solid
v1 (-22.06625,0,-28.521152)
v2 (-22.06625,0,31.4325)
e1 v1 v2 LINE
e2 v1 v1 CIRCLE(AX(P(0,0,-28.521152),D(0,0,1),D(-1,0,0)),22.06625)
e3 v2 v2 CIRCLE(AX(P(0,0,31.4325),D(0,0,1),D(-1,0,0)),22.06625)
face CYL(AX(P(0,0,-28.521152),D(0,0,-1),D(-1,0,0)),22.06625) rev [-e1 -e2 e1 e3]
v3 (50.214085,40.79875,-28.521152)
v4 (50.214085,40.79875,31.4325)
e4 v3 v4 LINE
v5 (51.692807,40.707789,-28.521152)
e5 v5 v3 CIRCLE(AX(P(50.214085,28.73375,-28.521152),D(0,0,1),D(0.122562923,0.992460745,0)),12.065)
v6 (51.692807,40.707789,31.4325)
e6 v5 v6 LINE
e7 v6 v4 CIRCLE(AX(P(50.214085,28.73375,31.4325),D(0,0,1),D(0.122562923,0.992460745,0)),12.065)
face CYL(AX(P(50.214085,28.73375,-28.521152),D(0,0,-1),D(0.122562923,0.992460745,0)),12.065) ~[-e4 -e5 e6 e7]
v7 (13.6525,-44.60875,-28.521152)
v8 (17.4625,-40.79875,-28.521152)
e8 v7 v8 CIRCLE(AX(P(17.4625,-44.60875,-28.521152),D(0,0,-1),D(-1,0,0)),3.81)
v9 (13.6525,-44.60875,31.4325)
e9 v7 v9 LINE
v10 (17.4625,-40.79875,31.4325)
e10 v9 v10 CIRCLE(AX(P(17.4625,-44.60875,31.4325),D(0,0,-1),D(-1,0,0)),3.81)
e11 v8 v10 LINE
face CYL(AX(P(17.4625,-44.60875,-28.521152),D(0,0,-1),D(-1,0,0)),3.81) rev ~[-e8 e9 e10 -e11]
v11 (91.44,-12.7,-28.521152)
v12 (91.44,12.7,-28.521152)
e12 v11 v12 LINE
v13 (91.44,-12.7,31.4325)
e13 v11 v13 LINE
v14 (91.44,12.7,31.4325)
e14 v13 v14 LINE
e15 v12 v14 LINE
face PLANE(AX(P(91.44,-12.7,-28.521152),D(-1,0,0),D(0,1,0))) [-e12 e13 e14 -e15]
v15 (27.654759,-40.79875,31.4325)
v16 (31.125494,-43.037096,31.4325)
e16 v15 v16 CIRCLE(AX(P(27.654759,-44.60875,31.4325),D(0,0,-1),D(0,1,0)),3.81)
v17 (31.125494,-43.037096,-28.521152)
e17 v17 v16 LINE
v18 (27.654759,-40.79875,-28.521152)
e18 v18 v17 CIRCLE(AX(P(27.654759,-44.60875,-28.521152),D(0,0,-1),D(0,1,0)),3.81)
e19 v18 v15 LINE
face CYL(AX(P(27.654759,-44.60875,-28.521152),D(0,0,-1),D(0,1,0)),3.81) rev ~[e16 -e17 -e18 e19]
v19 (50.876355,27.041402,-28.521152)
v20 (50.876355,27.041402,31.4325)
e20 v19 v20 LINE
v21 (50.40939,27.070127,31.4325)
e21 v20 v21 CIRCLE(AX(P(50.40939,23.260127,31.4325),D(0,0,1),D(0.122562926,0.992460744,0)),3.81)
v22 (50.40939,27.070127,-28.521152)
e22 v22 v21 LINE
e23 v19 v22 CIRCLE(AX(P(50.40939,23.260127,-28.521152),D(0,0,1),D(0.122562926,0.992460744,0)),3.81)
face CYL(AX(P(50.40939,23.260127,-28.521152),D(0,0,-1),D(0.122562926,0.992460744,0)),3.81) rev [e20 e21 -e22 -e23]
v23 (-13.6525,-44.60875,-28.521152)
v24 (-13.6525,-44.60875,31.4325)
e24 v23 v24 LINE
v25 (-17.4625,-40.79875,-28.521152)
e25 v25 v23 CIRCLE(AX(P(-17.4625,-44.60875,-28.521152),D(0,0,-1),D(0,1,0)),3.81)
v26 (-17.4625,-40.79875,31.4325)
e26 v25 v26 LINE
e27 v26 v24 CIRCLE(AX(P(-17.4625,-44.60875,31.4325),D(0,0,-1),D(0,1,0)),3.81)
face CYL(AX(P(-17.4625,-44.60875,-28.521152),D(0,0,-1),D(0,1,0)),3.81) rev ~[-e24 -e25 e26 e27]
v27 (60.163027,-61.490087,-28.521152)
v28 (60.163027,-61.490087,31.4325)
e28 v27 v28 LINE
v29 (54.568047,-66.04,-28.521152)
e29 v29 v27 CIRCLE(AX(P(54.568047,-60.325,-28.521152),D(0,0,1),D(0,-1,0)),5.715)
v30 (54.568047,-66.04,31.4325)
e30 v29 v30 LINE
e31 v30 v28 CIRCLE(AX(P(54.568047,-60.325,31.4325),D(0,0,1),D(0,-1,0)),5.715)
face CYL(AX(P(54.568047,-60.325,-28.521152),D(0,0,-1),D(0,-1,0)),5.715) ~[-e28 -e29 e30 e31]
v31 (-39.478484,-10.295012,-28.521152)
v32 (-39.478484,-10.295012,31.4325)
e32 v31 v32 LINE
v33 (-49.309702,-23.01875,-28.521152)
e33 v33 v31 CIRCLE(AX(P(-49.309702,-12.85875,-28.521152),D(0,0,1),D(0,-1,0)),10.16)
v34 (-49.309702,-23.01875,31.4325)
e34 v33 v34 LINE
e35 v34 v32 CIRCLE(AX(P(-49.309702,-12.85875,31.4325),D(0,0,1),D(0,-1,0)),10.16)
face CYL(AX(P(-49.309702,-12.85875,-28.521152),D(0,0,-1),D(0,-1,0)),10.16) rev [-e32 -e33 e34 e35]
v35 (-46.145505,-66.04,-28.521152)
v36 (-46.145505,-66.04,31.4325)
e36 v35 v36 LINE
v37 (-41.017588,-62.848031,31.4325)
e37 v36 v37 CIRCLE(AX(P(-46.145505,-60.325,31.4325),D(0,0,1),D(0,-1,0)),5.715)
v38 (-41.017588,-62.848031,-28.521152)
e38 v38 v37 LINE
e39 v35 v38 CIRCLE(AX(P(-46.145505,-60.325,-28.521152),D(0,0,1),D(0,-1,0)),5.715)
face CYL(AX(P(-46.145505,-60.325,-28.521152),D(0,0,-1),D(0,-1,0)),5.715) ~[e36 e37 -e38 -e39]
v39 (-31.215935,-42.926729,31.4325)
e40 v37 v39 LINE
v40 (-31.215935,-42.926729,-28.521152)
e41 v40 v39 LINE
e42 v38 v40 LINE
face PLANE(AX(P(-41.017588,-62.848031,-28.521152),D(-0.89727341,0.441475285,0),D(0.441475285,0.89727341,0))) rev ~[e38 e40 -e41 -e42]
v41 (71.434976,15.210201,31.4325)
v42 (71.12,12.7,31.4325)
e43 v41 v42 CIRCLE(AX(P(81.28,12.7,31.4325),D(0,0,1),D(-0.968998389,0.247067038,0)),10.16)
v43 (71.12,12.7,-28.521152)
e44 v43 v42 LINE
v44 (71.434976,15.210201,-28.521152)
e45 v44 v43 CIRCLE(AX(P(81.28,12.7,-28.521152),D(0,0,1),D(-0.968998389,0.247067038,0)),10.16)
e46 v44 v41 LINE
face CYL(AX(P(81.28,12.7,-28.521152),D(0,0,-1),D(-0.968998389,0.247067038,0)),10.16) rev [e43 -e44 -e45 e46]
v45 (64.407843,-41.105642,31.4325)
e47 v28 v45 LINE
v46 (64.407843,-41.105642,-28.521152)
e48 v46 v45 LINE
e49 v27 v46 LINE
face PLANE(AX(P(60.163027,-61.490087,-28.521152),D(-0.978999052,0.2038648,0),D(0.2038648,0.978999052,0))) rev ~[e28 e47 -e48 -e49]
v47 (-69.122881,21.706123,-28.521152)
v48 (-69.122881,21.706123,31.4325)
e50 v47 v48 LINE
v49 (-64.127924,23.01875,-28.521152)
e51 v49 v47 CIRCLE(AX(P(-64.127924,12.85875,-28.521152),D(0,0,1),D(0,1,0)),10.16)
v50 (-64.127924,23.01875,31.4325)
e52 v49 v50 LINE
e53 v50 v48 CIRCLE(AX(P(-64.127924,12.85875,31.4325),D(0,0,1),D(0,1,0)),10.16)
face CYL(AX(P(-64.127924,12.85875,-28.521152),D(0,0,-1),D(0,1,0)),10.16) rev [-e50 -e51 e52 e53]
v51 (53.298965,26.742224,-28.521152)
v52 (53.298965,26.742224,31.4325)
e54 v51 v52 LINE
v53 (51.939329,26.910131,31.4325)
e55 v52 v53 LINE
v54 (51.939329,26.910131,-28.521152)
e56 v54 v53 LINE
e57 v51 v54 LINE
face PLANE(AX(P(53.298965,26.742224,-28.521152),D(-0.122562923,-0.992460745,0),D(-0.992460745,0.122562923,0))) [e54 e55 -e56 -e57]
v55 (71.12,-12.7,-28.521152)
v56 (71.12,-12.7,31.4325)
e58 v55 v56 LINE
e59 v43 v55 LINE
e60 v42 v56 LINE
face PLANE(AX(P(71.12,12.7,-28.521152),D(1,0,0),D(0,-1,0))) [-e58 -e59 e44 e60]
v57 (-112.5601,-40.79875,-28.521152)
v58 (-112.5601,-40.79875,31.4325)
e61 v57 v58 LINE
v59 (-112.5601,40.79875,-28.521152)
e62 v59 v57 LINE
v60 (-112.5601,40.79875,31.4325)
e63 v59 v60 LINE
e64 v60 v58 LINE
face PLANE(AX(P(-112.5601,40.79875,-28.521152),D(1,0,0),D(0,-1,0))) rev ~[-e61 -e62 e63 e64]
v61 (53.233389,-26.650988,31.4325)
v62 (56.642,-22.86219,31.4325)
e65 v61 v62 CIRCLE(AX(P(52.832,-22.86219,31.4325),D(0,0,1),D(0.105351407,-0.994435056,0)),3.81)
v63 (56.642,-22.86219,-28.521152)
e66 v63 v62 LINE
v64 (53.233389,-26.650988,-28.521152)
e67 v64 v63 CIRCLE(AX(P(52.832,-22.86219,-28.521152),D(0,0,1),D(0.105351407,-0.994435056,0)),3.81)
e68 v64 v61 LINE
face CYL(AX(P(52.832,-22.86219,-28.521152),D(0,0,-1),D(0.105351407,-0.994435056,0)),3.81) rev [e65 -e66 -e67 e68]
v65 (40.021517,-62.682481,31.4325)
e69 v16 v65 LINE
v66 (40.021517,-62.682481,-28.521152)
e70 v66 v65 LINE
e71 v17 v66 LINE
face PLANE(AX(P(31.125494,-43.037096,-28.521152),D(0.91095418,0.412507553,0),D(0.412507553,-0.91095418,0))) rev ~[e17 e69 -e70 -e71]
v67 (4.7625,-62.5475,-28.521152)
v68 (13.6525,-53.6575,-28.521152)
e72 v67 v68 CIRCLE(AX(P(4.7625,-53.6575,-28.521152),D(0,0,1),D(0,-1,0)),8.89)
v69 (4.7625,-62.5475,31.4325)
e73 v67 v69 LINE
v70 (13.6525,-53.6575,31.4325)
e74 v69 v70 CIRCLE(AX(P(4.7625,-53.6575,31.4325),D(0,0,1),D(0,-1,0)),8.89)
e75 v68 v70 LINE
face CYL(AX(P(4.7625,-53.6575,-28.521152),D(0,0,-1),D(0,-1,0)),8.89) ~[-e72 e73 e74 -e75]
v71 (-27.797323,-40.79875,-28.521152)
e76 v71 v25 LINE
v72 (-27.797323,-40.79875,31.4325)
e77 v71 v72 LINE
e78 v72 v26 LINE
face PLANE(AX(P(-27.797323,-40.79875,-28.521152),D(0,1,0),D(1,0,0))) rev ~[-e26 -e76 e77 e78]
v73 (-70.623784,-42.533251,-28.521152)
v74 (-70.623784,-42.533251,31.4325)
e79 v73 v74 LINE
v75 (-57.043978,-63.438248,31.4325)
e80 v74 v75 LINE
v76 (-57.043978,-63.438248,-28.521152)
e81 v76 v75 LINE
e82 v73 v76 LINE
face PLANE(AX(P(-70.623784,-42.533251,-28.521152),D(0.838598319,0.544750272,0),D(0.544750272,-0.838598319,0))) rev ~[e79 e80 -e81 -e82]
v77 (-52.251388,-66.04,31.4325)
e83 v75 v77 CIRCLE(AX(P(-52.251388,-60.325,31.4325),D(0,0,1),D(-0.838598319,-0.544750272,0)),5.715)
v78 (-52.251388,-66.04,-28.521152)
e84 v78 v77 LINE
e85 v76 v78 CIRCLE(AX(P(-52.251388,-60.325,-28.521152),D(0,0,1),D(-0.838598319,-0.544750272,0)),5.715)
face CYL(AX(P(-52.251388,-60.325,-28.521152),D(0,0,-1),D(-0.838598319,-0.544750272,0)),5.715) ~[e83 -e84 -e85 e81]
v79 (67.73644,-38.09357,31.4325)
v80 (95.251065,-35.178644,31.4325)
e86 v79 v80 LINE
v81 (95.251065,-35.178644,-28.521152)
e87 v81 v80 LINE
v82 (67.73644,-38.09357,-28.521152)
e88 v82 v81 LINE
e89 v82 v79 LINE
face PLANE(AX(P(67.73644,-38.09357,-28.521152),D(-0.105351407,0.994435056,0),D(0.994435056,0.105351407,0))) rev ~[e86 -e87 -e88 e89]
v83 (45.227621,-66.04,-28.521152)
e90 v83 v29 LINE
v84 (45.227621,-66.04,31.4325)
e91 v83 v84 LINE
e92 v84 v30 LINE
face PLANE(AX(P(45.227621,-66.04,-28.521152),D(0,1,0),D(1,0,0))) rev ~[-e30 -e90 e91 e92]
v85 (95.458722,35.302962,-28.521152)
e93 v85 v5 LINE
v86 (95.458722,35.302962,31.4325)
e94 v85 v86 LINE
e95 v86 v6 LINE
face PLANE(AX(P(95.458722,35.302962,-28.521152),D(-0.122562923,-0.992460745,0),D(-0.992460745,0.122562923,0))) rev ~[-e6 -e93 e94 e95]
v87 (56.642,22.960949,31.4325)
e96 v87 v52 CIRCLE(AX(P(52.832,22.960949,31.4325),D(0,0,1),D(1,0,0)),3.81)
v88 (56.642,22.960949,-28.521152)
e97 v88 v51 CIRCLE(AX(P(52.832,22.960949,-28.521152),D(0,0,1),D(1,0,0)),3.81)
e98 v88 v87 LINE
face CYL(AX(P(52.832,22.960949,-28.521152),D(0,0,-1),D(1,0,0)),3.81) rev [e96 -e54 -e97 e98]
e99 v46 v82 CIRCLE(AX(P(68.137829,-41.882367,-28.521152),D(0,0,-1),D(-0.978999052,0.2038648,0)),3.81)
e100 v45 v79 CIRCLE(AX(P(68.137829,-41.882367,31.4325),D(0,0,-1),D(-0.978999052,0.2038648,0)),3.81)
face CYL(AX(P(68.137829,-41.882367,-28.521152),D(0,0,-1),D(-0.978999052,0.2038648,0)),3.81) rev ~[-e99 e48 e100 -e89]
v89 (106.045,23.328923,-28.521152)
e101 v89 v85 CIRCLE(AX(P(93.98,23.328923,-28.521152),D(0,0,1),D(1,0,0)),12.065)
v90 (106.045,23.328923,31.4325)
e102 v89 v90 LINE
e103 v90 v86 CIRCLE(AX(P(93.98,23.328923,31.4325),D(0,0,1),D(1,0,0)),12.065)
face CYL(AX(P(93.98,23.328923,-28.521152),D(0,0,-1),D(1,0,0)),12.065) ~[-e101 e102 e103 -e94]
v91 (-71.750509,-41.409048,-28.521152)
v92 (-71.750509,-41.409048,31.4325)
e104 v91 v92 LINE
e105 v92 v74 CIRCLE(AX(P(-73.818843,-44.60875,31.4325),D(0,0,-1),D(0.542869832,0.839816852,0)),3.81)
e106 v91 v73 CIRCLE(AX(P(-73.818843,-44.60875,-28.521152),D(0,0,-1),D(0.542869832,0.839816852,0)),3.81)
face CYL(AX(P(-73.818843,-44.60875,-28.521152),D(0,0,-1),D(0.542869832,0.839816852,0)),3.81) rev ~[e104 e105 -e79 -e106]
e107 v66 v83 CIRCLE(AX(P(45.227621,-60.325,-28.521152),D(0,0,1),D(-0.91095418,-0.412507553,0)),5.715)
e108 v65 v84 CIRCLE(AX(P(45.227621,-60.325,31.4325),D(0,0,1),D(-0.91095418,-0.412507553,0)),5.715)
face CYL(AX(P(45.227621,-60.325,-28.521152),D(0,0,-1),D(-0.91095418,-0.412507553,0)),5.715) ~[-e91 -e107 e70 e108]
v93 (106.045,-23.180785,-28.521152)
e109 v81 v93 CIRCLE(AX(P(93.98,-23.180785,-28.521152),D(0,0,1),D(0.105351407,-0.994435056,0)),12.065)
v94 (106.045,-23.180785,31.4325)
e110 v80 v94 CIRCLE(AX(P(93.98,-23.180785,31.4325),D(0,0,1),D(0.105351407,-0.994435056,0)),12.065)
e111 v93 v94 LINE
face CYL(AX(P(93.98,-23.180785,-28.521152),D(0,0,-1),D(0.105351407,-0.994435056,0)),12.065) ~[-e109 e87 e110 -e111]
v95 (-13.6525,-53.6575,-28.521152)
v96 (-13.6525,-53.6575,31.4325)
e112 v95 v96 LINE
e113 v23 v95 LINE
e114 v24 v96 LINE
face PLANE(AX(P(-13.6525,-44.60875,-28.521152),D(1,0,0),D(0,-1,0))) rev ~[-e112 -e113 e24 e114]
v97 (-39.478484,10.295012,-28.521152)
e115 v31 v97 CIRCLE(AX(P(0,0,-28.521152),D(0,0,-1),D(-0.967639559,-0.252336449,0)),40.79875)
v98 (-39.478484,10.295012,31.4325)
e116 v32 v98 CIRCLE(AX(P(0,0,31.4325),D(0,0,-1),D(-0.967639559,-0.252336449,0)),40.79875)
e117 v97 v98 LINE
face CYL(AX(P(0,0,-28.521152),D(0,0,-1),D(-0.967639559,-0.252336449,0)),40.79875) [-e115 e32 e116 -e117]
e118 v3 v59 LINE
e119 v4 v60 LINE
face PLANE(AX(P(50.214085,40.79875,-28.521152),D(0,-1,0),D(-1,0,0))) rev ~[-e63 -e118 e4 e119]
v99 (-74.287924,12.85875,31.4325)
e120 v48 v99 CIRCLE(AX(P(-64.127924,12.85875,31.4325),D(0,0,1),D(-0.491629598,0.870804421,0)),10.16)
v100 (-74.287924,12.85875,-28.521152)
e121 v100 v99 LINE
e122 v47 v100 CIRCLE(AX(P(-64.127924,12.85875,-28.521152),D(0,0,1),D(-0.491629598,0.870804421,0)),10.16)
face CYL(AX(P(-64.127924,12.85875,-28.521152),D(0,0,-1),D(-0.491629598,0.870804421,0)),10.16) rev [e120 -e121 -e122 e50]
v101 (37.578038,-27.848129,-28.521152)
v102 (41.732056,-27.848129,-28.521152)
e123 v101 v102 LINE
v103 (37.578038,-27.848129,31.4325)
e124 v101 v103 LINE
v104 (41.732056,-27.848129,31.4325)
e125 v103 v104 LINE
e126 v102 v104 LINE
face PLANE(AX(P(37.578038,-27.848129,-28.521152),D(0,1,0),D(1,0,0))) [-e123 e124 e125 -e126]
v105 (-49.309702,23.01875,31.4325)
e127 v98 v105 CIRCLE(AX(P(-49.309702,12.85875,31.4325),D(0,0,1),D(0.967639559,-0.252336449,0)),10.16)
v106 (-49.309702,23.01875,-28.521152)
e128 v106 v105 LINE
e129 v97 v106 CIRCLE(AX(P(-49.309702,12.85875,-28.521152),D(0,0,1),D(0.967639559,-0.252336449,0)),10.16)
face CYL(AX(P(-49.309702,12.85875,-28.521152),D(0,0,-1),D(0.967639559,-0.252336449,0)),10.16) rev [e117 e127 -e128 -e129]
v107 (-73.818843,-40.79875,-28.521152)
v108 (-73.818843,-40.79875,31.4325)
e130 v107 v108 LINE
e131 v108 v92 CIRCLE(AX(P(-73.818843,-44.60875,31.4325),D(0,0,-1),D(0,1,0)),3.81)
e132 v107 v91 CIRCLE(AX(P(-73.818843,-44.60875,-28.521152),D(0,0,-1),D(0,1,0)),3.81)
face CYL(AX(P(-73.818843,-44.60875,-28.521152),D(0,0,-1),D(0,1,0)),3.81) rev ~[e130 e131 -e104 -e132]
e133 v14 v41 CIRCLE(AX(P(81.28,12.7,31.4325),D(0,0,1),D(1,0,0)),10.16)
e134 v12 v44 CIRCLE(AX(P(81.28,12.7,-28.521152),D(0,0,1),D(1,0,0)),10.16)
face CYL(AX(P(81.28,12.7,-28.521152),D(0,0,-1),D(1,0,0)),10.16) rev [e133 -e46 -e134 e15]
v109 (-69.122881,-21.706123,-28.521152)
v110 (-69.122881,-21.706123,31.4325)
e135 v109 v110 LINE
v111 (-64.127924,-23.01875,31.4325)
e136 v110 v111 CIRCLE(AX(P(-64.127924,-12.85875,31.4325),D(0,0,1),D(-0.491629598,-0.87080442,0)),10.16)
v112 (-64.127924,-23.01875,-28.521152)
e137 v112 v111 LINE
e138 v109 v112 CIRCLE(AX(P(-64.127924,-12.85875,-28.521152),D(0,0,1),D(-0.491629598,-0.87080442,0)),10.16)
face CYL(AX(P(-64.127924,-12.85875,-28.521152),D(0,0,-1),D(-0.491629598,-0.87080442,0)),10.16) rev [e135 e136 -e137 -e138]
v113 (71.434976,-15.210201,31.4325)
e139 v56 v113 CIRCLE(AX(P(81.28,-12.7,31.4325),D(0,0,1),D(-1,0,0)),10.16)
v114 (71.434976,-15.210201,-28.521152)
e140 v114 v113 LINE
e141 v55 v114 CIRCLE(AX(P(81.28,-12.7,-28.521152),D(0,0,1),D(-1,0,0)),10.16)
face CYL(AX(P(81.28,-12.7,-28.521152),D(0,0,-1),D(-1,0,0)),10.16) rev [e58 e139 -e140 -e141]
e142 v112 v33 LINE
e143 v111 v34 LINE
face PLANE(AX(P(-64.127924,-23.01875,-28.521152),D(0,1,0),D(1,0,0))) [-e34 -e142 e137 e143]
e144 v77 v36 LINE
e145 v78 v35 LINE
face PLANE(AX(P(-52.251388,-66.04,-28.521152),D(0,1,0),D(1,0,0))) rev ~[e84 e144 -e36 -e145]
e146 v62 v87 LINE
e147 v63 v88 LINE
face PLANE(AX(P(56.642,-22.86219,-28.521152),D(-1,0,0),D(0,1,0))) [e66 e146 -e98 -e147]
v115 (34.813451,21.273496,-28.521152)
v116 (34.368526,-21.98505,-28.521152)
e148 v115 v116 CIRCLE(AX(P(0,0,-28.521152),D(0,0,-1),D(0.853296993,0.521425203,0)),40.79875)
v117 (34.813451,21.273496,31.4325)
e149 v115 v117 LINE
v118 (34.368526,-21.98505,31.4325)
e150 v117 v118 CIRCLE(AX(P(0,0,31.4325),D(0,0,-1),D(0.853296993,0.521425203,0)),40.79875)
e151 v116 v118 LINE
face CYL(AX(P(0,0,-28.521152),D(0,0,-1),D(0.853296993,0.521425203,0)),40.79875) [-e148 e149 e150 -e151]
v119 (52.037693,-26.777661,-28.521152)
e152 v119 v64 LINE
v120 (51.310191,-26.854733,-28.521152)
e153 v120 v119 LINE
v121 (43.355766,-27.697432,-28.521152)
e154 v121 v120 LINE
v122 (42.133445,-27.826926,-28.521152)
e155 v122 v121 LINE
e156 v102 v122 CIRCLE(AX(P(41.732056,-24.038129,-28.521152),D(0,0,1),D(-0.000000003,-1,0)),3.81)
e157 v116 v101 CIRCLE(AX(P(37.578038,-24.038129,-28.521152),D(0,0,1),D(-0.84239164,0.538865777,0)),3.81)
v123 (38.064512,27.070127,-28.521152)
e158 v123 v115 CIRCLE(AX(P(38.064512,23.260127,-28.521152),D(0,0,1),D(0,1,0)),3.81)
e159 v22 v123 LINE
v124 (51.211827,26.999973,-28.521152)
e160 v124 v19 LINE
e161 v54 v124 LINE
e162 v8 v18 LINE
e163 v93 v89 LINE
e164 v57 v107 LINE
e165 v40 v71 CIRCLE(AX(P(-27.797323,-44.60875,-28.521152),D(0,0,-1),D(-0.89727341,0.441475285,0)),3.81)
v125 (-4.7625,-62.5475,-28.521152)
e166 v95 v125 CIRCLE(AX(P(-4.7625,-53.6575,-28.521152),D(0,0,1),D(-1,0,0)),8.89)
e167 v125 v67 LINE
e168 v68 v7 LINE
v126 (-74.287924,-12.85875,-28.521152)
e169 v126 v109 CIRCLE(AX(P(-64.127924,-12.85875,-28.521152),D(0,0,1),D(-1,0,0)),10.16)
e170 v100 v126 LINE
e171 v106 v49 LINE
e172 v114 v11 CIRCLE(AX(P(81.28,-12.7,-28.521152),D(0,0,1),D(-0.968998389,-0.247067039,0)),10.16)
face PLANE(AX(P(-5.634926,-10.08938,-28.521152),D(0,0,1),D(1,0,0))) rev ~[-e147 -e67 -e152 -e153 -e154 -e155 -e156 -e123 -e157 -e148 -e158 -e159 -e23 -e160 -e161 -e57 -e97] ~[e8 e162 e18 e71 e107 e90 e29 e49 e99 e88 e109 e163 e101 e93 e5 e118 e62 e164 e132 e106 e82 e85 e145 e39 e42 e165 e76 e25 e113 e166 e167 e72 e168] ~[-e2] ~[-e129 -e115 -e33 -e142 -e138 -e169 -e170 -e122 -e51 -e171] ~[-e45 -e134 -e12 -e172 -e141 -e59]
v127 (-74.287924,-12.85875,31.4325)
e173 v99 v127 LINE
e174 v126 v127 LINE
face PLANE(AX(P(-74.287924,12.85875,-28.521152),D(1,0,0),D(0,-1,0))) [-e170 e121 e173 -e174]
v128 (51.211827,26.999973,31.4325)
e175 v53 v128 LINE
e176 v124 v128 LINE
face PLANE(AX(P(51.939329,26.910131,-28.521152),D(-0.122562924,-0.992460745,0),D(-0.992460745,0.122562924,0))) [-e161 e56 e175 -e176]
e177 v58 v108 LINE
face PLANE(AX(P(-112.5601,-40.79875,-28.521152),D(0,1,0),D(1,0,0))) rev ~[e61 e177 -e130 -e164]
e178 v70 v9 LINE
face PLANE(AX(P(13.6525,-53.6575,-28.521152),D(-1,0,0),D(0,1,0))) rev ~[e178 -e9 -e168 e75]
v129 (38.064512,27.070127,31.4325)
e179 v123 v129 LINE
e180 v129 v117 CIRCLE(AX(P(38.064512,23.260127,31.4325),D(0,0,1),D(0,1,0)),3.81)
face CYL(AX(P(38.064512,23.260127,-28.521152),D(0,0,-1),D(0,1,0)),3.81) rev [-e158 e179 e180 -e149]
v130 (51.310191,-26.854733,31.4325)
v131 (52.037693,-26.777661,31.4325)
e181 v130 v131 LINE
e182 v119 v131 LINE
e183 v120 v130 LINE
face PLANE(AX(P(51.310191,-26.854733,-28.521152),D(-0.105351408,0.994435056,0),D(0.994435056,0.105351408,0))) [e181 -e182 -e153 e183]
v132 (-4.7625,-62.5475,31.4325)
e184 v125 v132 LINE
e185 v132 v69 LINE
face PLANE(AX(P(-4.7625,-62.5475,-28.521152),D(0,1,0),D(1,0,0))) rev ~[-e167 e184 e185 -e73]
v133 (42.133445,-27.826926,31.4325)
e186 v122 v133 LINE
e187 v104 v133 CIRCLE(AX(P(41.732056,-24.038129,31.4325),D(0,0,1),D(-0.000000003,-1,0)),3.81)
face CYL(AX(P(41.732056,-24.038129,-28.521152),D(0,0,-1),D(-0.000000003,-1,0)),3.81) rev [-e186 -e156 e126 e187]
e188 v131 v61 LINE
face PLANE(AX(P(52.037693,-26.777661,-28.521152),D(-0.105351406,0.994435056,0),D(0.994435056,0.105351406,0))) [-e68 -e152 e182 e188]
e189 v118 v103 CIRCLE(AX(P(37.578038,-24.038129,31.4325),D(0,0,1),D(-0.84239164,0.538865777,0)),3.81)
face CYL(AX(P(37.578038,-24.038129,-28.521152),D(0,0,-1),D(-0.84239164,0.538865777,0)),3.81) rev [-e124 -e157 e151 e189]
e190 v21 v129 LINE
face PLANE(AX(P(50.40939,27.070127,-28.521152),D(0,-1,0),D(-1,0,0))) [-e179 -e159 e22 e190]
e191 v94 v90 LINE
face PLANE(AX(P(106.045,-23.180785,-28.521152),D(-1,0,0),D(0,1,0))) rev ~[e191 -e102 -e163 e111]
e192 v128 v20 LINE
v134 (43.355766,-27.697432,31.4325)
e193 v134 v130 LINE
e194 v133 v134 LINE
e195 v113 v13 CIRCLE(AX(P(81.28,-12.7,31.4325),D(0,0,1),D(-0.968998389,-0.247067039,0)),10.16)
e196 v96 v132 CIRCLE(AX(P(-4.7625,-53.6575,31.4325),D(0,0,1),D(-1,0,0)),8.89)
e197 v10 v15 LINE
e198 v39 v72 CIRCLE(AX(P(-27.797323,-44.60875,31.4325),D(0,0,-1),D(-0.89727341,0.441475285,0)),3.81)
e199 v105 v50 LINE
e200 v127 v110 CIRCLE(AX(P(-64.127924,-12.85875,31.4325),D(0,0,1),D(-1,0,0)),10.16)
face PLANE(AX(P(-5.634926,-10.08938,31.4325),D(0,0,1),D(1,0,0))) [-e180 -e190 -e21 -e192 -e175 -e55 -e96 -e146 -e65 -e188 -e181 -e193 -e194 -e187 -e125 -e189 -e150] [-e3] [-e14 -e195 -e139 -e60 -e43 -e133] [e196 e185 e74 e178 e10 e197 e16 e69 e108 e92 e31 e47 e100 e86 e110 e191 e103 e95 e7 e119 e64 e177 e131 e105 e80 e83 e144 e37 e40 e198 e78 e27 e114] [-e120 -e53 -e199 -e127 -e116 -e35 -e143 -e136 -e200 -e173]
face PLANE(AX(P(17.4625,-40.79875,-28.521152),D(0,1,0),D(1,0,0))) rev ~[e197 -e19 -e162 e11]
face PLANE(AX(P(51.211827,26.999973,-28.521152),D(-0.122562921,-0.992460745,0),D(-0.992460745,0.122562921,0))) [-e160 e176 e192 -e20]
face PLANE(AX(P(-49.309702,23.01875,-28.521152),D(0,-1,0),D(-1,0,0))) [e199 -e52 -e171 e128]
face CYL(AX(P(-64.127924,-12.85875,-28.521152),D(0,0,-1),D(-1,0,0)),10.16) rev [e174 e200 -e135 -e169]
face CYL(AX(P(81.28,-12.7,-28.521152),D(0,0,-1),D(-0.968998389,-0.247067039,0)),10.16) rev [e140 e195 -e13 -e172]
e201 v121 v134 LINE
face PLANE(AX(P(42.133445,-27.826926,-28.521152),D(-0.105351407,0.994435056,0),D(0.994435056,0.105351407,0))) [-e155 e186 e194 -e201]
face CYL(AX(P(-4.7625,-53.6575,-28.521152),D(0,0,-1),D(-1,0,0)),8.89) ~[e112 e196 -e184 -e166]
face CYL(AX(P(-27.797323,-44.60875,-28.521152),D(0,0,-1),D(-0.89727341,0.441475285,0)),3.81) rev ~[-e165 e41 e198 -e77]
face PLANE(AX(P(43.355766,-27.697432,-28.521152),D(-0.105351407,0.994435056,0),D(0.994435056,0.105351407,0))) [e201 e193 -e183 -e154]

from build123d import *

# Parameters (mm, degrees)
BOSS_EXTRUDE1_DEPTH      = 31.4325
BOSS_EXTRUDE1_DEPTH_BACK = 28.521152
SKETCH1_R                = 22.06625


with BuildPart() as part:
    # Sketch1 → Boss-Extrude1 (new, two sides: drawn at the far end of the back side and taken through both)
    with BuildSketch(Plane.XY.offset(-BOSS_EXTRUDE1_DEPTH_BACK)):
        with BuildLine():
            Line((-112.5601, 40.79875), (-112.5601, -40.79875))
            Line((-112.5601, -40.79875), (-105.64544448, -40.79875))
            Line((-105.64544448, -40.79875), (-78.272997716, -40.79875))
            Line((-78.272997716, -40.79875), (-73.818843223, -40.79875))
            ThreePointArc((-73.818843223, -40.79875), (-72.740595899, -40.954508258), (-71.750509166, -41.40904779))
            ThreePointArc((-71.750509166, -41.40904779), (-71.12778643, -41.911656502), (-70.623783626, -42.533251464))
            Line((-70.623783626, -42.533251464), (-57.043977681, -63.438247804))
            ThreePointArc((-57.043977681, -63.438247804), (-54.978017505, -65.347620641), (-52.251388286, -66.04))
            Line((-52.251388286, -66.04), (-46.145505176, -66.04))
            ThreePointArc((-46.145505176, -66.04), (-43.125397449, -65.176821752), (-41.017587638, -62.848031257))
            Line((-41.017587638, -62.848031257), (-31.215934729, -42.926729162))
            ThreePointArc((-31.215934729, -42.926729162), (-29.810728189, -41.374202165), (-27.797323037, -40.79875))
            Line((-27.797323037, -40.79875), (-17.4625, -40.79875))
            ThreePointArc((-17.4625, -40.79875), (-14.768423164, -41.914673164), (-13.6525, -44.60875))
            Line((-13.6525, -44.60875), (-13.6525, -53.6575))
            ThreePointArc((-13.6525, -53.6575), (-11.048679285, -59.943679285), (-4.7625, -62.5475))
            Line((-4.7625, -62.5475), (4.7625, -62.5475))
            ThreePointArc((4.7625, -62.5475), (11.048679285, -59.943679285), (13.6525, -53.6575))
            Line((13.6525, -53.6575), (13.6525, -44.60875))
            ThreePointArc((13.6525, -44.60875), (14.768423164, -41.914673164), (17.4625, -40.79875))
            Line((17.4625, -40.79875), (27.654758859, -40.79875))
            ThreePointArc((27.654758859, -40.79875), (29.719716377, -41.406867671), (31.125494286, -43.037096222))
            Line((31.125494286, -43.037096222), (40.021517431, -62.682480667))
            ThreePointArc((40.021517431, -62.682480667), (42.130184293, -65.127823493), (45.227620571, -66.04))
            Line((45.227620571, -66.04), (54.568047284, -66.04))
            ThreePointArc((54.568047284, -66.04), (58.173789295, -64.758942889), (60.163026865, -61.49008733))
            Line((60.163026865, -61.49008733), (64.407842813, -41.105642371))
            ThreePointArc((64.407842813, -41.105642371), (65.581423361, -39.0573205), (67.73644034, -38.093569694))
            Line((67.73644034, -38.093569694), (95.251064725, -35.178643905))
            ThreePointArc((95.251064725, -35.178643905), (102.949381832, -31.250135269), (106.045, -23.180784951))
            Line((106.045, -23.180784951), (106.045, 23.328923197))
            ThreePointArc((106.045, 23.328923197), (103.018943576, 31.320276275), (95.45872167, 35.302962082))
            Line((95.45872167, 35.302962082), (51.692807067, 40.707788885))
            ThreePointArc((51.692807067, 40.707788885), (50.954843743, 40.77598825), (50.214085398, 40.79875))
            Line((50.214085398, 40.79875), (-70.371619795, 40.79875))
            Line((-70.371619795, 40.79875), (-78.272997716, 40.79875))
            Line((-78.272997716, 40.79875), (-105.64544448, 40.79875))
            Line((-105.64544448, 40.79875), (-112.5601, 40.79875))
        make_face()
        with Locations(Location((0, 0, 0), (0, 0, 180))):
            Circle(SKETCH1_R, mode=Mode.SUBTRACT)
        with BuildLine():
            Line((51.310190607, -26.854733006), (52.037693166, -26.777660684))
            Line((52.037693166, -26.777660684), (53.233388861, -26.650987532))
            ThreePointArc((53.233388861, -26.650987532), (55.664436368, -25.410405857), (56.642, -22.862189968))
            Line((56.642, -22.862189968), (56.642, 22.960948798))
            ThreePointArc((56.642, 22.960948798), (55.686403235, 25.484533981), (53.298964738, 26.742224235))
            Line((53.298964738, 26.742224235), (51.93932935, 26.910131015))
            Line((51.93932935, 26.910131015), (51.211826791, 26.999973199))
            Line((51.211826791, 26.999973199), (50.876355003, 27.041401943))
            ThreePointArc((50.876355003, 27.041401943), (50.643313953, 27.062938585), (50.409390265, 27.070126506))
            Line((50.409390265, 27.070126506), (43.95784943, 27.070126506))
            Line((43.95784943, 27.070126506), (38.064512232, 27.070126506))
            ThreePointArc((38.064512232, 27.070126506), (34.741474437, 25.123864634), (34.813450689, 21.273496484))
            ThreePointArc((34.813450689, 21.273496484), (40.796592197, -0.419602974), (34.368525909, -21.985050111))
            ThreePointArc((34.368525909, -21.985050111), (34.236008022, -25.867591825), (37.578038056, -27.848128721))
            Line((37.578038056, -27.848128721), (41.732055975, -27.848128721))
            ThreePointArc((41.732055975, -27.848128721), (41.933030203, -27.84282442), (42.133444836, -27.826926285))
            Line((42.133444836, -27.826926285), (43.35576614, -27.69743239))
            Line((43.35576614, -27.69743239), (51.310190607, -26.854733006))
        make_face(mode=Mode.SUBTRACT)
        with BuildLine():
            Line((-49.309702392, 23.01875), (-64.127923903, 23.01875))
            ThreePointArc((-64.127923903, 23.01875), (-66.710199181, 22.685115268), (-69.122880616, 21.706122911))
            ThreePointArc((-69.122880616, 21.706122911), (-72.902157779, 17.981095156), (-74.287923903, 12.85875))
            Line((-74.287923903, 12.85875), (-74.287923903, -12.85875))
            ThreePointArc((-74.287923903, -12.85875), (-72.902157779, -17.981095156), (-69.122880616, -21.706122911))
            ThreePointArc((-69.122880616, -21.706122911), (-66.710199181, -22.685115268), (-64.127923903, -23.01875))
            Line((-64.127923903, -23.01875), (-49.309702392, -23.01875))
            ThreePointArc((-49.309702392, -23.01875), (-41.270013925, -19.07075526), (-39.47848447, -10.295011682))
            ThreePointArc((-39.47848447, -10.295011682), (-40.79875, 0), (-39.47848447, 10.295011682))
            ThreePointArc((-39.47848447, 10.295011682), (-41.270013925, 19.07075526), (-49.309702392, 23.01875))
        make_face(mode=Mode.SUBTRACT)
        with BuildLine():
            Line((71.12, 12.7), (71.12, -12.7))
            ThreePointArc((71.12, -12.7), (71.199051629, -13.96494266), (71.434976365, -15.210201111))
            ThreePointArc((71.434976365, -15.210201111), (82.54494266, -22.780948371), (91.44, -12.7))
            Line((91.44, -12.7), (91.44, 12.7))
            ThreePointArc((91.44, 12.7), (82.54494266, 22.780948371), (71.434976365, 15.210201111))
            ThreePointArc((71.434976365, 15.210201111), (71.199051629, 13.96494266), (71.12, 12.7))
        make_face(mode=Mode.SUBTRACT)
    extrude(amount=BOSS_EXTRUDE1_DEPTH + BOSS_EXTRUDE1_DEPTH_BACK)


solid = part.part
